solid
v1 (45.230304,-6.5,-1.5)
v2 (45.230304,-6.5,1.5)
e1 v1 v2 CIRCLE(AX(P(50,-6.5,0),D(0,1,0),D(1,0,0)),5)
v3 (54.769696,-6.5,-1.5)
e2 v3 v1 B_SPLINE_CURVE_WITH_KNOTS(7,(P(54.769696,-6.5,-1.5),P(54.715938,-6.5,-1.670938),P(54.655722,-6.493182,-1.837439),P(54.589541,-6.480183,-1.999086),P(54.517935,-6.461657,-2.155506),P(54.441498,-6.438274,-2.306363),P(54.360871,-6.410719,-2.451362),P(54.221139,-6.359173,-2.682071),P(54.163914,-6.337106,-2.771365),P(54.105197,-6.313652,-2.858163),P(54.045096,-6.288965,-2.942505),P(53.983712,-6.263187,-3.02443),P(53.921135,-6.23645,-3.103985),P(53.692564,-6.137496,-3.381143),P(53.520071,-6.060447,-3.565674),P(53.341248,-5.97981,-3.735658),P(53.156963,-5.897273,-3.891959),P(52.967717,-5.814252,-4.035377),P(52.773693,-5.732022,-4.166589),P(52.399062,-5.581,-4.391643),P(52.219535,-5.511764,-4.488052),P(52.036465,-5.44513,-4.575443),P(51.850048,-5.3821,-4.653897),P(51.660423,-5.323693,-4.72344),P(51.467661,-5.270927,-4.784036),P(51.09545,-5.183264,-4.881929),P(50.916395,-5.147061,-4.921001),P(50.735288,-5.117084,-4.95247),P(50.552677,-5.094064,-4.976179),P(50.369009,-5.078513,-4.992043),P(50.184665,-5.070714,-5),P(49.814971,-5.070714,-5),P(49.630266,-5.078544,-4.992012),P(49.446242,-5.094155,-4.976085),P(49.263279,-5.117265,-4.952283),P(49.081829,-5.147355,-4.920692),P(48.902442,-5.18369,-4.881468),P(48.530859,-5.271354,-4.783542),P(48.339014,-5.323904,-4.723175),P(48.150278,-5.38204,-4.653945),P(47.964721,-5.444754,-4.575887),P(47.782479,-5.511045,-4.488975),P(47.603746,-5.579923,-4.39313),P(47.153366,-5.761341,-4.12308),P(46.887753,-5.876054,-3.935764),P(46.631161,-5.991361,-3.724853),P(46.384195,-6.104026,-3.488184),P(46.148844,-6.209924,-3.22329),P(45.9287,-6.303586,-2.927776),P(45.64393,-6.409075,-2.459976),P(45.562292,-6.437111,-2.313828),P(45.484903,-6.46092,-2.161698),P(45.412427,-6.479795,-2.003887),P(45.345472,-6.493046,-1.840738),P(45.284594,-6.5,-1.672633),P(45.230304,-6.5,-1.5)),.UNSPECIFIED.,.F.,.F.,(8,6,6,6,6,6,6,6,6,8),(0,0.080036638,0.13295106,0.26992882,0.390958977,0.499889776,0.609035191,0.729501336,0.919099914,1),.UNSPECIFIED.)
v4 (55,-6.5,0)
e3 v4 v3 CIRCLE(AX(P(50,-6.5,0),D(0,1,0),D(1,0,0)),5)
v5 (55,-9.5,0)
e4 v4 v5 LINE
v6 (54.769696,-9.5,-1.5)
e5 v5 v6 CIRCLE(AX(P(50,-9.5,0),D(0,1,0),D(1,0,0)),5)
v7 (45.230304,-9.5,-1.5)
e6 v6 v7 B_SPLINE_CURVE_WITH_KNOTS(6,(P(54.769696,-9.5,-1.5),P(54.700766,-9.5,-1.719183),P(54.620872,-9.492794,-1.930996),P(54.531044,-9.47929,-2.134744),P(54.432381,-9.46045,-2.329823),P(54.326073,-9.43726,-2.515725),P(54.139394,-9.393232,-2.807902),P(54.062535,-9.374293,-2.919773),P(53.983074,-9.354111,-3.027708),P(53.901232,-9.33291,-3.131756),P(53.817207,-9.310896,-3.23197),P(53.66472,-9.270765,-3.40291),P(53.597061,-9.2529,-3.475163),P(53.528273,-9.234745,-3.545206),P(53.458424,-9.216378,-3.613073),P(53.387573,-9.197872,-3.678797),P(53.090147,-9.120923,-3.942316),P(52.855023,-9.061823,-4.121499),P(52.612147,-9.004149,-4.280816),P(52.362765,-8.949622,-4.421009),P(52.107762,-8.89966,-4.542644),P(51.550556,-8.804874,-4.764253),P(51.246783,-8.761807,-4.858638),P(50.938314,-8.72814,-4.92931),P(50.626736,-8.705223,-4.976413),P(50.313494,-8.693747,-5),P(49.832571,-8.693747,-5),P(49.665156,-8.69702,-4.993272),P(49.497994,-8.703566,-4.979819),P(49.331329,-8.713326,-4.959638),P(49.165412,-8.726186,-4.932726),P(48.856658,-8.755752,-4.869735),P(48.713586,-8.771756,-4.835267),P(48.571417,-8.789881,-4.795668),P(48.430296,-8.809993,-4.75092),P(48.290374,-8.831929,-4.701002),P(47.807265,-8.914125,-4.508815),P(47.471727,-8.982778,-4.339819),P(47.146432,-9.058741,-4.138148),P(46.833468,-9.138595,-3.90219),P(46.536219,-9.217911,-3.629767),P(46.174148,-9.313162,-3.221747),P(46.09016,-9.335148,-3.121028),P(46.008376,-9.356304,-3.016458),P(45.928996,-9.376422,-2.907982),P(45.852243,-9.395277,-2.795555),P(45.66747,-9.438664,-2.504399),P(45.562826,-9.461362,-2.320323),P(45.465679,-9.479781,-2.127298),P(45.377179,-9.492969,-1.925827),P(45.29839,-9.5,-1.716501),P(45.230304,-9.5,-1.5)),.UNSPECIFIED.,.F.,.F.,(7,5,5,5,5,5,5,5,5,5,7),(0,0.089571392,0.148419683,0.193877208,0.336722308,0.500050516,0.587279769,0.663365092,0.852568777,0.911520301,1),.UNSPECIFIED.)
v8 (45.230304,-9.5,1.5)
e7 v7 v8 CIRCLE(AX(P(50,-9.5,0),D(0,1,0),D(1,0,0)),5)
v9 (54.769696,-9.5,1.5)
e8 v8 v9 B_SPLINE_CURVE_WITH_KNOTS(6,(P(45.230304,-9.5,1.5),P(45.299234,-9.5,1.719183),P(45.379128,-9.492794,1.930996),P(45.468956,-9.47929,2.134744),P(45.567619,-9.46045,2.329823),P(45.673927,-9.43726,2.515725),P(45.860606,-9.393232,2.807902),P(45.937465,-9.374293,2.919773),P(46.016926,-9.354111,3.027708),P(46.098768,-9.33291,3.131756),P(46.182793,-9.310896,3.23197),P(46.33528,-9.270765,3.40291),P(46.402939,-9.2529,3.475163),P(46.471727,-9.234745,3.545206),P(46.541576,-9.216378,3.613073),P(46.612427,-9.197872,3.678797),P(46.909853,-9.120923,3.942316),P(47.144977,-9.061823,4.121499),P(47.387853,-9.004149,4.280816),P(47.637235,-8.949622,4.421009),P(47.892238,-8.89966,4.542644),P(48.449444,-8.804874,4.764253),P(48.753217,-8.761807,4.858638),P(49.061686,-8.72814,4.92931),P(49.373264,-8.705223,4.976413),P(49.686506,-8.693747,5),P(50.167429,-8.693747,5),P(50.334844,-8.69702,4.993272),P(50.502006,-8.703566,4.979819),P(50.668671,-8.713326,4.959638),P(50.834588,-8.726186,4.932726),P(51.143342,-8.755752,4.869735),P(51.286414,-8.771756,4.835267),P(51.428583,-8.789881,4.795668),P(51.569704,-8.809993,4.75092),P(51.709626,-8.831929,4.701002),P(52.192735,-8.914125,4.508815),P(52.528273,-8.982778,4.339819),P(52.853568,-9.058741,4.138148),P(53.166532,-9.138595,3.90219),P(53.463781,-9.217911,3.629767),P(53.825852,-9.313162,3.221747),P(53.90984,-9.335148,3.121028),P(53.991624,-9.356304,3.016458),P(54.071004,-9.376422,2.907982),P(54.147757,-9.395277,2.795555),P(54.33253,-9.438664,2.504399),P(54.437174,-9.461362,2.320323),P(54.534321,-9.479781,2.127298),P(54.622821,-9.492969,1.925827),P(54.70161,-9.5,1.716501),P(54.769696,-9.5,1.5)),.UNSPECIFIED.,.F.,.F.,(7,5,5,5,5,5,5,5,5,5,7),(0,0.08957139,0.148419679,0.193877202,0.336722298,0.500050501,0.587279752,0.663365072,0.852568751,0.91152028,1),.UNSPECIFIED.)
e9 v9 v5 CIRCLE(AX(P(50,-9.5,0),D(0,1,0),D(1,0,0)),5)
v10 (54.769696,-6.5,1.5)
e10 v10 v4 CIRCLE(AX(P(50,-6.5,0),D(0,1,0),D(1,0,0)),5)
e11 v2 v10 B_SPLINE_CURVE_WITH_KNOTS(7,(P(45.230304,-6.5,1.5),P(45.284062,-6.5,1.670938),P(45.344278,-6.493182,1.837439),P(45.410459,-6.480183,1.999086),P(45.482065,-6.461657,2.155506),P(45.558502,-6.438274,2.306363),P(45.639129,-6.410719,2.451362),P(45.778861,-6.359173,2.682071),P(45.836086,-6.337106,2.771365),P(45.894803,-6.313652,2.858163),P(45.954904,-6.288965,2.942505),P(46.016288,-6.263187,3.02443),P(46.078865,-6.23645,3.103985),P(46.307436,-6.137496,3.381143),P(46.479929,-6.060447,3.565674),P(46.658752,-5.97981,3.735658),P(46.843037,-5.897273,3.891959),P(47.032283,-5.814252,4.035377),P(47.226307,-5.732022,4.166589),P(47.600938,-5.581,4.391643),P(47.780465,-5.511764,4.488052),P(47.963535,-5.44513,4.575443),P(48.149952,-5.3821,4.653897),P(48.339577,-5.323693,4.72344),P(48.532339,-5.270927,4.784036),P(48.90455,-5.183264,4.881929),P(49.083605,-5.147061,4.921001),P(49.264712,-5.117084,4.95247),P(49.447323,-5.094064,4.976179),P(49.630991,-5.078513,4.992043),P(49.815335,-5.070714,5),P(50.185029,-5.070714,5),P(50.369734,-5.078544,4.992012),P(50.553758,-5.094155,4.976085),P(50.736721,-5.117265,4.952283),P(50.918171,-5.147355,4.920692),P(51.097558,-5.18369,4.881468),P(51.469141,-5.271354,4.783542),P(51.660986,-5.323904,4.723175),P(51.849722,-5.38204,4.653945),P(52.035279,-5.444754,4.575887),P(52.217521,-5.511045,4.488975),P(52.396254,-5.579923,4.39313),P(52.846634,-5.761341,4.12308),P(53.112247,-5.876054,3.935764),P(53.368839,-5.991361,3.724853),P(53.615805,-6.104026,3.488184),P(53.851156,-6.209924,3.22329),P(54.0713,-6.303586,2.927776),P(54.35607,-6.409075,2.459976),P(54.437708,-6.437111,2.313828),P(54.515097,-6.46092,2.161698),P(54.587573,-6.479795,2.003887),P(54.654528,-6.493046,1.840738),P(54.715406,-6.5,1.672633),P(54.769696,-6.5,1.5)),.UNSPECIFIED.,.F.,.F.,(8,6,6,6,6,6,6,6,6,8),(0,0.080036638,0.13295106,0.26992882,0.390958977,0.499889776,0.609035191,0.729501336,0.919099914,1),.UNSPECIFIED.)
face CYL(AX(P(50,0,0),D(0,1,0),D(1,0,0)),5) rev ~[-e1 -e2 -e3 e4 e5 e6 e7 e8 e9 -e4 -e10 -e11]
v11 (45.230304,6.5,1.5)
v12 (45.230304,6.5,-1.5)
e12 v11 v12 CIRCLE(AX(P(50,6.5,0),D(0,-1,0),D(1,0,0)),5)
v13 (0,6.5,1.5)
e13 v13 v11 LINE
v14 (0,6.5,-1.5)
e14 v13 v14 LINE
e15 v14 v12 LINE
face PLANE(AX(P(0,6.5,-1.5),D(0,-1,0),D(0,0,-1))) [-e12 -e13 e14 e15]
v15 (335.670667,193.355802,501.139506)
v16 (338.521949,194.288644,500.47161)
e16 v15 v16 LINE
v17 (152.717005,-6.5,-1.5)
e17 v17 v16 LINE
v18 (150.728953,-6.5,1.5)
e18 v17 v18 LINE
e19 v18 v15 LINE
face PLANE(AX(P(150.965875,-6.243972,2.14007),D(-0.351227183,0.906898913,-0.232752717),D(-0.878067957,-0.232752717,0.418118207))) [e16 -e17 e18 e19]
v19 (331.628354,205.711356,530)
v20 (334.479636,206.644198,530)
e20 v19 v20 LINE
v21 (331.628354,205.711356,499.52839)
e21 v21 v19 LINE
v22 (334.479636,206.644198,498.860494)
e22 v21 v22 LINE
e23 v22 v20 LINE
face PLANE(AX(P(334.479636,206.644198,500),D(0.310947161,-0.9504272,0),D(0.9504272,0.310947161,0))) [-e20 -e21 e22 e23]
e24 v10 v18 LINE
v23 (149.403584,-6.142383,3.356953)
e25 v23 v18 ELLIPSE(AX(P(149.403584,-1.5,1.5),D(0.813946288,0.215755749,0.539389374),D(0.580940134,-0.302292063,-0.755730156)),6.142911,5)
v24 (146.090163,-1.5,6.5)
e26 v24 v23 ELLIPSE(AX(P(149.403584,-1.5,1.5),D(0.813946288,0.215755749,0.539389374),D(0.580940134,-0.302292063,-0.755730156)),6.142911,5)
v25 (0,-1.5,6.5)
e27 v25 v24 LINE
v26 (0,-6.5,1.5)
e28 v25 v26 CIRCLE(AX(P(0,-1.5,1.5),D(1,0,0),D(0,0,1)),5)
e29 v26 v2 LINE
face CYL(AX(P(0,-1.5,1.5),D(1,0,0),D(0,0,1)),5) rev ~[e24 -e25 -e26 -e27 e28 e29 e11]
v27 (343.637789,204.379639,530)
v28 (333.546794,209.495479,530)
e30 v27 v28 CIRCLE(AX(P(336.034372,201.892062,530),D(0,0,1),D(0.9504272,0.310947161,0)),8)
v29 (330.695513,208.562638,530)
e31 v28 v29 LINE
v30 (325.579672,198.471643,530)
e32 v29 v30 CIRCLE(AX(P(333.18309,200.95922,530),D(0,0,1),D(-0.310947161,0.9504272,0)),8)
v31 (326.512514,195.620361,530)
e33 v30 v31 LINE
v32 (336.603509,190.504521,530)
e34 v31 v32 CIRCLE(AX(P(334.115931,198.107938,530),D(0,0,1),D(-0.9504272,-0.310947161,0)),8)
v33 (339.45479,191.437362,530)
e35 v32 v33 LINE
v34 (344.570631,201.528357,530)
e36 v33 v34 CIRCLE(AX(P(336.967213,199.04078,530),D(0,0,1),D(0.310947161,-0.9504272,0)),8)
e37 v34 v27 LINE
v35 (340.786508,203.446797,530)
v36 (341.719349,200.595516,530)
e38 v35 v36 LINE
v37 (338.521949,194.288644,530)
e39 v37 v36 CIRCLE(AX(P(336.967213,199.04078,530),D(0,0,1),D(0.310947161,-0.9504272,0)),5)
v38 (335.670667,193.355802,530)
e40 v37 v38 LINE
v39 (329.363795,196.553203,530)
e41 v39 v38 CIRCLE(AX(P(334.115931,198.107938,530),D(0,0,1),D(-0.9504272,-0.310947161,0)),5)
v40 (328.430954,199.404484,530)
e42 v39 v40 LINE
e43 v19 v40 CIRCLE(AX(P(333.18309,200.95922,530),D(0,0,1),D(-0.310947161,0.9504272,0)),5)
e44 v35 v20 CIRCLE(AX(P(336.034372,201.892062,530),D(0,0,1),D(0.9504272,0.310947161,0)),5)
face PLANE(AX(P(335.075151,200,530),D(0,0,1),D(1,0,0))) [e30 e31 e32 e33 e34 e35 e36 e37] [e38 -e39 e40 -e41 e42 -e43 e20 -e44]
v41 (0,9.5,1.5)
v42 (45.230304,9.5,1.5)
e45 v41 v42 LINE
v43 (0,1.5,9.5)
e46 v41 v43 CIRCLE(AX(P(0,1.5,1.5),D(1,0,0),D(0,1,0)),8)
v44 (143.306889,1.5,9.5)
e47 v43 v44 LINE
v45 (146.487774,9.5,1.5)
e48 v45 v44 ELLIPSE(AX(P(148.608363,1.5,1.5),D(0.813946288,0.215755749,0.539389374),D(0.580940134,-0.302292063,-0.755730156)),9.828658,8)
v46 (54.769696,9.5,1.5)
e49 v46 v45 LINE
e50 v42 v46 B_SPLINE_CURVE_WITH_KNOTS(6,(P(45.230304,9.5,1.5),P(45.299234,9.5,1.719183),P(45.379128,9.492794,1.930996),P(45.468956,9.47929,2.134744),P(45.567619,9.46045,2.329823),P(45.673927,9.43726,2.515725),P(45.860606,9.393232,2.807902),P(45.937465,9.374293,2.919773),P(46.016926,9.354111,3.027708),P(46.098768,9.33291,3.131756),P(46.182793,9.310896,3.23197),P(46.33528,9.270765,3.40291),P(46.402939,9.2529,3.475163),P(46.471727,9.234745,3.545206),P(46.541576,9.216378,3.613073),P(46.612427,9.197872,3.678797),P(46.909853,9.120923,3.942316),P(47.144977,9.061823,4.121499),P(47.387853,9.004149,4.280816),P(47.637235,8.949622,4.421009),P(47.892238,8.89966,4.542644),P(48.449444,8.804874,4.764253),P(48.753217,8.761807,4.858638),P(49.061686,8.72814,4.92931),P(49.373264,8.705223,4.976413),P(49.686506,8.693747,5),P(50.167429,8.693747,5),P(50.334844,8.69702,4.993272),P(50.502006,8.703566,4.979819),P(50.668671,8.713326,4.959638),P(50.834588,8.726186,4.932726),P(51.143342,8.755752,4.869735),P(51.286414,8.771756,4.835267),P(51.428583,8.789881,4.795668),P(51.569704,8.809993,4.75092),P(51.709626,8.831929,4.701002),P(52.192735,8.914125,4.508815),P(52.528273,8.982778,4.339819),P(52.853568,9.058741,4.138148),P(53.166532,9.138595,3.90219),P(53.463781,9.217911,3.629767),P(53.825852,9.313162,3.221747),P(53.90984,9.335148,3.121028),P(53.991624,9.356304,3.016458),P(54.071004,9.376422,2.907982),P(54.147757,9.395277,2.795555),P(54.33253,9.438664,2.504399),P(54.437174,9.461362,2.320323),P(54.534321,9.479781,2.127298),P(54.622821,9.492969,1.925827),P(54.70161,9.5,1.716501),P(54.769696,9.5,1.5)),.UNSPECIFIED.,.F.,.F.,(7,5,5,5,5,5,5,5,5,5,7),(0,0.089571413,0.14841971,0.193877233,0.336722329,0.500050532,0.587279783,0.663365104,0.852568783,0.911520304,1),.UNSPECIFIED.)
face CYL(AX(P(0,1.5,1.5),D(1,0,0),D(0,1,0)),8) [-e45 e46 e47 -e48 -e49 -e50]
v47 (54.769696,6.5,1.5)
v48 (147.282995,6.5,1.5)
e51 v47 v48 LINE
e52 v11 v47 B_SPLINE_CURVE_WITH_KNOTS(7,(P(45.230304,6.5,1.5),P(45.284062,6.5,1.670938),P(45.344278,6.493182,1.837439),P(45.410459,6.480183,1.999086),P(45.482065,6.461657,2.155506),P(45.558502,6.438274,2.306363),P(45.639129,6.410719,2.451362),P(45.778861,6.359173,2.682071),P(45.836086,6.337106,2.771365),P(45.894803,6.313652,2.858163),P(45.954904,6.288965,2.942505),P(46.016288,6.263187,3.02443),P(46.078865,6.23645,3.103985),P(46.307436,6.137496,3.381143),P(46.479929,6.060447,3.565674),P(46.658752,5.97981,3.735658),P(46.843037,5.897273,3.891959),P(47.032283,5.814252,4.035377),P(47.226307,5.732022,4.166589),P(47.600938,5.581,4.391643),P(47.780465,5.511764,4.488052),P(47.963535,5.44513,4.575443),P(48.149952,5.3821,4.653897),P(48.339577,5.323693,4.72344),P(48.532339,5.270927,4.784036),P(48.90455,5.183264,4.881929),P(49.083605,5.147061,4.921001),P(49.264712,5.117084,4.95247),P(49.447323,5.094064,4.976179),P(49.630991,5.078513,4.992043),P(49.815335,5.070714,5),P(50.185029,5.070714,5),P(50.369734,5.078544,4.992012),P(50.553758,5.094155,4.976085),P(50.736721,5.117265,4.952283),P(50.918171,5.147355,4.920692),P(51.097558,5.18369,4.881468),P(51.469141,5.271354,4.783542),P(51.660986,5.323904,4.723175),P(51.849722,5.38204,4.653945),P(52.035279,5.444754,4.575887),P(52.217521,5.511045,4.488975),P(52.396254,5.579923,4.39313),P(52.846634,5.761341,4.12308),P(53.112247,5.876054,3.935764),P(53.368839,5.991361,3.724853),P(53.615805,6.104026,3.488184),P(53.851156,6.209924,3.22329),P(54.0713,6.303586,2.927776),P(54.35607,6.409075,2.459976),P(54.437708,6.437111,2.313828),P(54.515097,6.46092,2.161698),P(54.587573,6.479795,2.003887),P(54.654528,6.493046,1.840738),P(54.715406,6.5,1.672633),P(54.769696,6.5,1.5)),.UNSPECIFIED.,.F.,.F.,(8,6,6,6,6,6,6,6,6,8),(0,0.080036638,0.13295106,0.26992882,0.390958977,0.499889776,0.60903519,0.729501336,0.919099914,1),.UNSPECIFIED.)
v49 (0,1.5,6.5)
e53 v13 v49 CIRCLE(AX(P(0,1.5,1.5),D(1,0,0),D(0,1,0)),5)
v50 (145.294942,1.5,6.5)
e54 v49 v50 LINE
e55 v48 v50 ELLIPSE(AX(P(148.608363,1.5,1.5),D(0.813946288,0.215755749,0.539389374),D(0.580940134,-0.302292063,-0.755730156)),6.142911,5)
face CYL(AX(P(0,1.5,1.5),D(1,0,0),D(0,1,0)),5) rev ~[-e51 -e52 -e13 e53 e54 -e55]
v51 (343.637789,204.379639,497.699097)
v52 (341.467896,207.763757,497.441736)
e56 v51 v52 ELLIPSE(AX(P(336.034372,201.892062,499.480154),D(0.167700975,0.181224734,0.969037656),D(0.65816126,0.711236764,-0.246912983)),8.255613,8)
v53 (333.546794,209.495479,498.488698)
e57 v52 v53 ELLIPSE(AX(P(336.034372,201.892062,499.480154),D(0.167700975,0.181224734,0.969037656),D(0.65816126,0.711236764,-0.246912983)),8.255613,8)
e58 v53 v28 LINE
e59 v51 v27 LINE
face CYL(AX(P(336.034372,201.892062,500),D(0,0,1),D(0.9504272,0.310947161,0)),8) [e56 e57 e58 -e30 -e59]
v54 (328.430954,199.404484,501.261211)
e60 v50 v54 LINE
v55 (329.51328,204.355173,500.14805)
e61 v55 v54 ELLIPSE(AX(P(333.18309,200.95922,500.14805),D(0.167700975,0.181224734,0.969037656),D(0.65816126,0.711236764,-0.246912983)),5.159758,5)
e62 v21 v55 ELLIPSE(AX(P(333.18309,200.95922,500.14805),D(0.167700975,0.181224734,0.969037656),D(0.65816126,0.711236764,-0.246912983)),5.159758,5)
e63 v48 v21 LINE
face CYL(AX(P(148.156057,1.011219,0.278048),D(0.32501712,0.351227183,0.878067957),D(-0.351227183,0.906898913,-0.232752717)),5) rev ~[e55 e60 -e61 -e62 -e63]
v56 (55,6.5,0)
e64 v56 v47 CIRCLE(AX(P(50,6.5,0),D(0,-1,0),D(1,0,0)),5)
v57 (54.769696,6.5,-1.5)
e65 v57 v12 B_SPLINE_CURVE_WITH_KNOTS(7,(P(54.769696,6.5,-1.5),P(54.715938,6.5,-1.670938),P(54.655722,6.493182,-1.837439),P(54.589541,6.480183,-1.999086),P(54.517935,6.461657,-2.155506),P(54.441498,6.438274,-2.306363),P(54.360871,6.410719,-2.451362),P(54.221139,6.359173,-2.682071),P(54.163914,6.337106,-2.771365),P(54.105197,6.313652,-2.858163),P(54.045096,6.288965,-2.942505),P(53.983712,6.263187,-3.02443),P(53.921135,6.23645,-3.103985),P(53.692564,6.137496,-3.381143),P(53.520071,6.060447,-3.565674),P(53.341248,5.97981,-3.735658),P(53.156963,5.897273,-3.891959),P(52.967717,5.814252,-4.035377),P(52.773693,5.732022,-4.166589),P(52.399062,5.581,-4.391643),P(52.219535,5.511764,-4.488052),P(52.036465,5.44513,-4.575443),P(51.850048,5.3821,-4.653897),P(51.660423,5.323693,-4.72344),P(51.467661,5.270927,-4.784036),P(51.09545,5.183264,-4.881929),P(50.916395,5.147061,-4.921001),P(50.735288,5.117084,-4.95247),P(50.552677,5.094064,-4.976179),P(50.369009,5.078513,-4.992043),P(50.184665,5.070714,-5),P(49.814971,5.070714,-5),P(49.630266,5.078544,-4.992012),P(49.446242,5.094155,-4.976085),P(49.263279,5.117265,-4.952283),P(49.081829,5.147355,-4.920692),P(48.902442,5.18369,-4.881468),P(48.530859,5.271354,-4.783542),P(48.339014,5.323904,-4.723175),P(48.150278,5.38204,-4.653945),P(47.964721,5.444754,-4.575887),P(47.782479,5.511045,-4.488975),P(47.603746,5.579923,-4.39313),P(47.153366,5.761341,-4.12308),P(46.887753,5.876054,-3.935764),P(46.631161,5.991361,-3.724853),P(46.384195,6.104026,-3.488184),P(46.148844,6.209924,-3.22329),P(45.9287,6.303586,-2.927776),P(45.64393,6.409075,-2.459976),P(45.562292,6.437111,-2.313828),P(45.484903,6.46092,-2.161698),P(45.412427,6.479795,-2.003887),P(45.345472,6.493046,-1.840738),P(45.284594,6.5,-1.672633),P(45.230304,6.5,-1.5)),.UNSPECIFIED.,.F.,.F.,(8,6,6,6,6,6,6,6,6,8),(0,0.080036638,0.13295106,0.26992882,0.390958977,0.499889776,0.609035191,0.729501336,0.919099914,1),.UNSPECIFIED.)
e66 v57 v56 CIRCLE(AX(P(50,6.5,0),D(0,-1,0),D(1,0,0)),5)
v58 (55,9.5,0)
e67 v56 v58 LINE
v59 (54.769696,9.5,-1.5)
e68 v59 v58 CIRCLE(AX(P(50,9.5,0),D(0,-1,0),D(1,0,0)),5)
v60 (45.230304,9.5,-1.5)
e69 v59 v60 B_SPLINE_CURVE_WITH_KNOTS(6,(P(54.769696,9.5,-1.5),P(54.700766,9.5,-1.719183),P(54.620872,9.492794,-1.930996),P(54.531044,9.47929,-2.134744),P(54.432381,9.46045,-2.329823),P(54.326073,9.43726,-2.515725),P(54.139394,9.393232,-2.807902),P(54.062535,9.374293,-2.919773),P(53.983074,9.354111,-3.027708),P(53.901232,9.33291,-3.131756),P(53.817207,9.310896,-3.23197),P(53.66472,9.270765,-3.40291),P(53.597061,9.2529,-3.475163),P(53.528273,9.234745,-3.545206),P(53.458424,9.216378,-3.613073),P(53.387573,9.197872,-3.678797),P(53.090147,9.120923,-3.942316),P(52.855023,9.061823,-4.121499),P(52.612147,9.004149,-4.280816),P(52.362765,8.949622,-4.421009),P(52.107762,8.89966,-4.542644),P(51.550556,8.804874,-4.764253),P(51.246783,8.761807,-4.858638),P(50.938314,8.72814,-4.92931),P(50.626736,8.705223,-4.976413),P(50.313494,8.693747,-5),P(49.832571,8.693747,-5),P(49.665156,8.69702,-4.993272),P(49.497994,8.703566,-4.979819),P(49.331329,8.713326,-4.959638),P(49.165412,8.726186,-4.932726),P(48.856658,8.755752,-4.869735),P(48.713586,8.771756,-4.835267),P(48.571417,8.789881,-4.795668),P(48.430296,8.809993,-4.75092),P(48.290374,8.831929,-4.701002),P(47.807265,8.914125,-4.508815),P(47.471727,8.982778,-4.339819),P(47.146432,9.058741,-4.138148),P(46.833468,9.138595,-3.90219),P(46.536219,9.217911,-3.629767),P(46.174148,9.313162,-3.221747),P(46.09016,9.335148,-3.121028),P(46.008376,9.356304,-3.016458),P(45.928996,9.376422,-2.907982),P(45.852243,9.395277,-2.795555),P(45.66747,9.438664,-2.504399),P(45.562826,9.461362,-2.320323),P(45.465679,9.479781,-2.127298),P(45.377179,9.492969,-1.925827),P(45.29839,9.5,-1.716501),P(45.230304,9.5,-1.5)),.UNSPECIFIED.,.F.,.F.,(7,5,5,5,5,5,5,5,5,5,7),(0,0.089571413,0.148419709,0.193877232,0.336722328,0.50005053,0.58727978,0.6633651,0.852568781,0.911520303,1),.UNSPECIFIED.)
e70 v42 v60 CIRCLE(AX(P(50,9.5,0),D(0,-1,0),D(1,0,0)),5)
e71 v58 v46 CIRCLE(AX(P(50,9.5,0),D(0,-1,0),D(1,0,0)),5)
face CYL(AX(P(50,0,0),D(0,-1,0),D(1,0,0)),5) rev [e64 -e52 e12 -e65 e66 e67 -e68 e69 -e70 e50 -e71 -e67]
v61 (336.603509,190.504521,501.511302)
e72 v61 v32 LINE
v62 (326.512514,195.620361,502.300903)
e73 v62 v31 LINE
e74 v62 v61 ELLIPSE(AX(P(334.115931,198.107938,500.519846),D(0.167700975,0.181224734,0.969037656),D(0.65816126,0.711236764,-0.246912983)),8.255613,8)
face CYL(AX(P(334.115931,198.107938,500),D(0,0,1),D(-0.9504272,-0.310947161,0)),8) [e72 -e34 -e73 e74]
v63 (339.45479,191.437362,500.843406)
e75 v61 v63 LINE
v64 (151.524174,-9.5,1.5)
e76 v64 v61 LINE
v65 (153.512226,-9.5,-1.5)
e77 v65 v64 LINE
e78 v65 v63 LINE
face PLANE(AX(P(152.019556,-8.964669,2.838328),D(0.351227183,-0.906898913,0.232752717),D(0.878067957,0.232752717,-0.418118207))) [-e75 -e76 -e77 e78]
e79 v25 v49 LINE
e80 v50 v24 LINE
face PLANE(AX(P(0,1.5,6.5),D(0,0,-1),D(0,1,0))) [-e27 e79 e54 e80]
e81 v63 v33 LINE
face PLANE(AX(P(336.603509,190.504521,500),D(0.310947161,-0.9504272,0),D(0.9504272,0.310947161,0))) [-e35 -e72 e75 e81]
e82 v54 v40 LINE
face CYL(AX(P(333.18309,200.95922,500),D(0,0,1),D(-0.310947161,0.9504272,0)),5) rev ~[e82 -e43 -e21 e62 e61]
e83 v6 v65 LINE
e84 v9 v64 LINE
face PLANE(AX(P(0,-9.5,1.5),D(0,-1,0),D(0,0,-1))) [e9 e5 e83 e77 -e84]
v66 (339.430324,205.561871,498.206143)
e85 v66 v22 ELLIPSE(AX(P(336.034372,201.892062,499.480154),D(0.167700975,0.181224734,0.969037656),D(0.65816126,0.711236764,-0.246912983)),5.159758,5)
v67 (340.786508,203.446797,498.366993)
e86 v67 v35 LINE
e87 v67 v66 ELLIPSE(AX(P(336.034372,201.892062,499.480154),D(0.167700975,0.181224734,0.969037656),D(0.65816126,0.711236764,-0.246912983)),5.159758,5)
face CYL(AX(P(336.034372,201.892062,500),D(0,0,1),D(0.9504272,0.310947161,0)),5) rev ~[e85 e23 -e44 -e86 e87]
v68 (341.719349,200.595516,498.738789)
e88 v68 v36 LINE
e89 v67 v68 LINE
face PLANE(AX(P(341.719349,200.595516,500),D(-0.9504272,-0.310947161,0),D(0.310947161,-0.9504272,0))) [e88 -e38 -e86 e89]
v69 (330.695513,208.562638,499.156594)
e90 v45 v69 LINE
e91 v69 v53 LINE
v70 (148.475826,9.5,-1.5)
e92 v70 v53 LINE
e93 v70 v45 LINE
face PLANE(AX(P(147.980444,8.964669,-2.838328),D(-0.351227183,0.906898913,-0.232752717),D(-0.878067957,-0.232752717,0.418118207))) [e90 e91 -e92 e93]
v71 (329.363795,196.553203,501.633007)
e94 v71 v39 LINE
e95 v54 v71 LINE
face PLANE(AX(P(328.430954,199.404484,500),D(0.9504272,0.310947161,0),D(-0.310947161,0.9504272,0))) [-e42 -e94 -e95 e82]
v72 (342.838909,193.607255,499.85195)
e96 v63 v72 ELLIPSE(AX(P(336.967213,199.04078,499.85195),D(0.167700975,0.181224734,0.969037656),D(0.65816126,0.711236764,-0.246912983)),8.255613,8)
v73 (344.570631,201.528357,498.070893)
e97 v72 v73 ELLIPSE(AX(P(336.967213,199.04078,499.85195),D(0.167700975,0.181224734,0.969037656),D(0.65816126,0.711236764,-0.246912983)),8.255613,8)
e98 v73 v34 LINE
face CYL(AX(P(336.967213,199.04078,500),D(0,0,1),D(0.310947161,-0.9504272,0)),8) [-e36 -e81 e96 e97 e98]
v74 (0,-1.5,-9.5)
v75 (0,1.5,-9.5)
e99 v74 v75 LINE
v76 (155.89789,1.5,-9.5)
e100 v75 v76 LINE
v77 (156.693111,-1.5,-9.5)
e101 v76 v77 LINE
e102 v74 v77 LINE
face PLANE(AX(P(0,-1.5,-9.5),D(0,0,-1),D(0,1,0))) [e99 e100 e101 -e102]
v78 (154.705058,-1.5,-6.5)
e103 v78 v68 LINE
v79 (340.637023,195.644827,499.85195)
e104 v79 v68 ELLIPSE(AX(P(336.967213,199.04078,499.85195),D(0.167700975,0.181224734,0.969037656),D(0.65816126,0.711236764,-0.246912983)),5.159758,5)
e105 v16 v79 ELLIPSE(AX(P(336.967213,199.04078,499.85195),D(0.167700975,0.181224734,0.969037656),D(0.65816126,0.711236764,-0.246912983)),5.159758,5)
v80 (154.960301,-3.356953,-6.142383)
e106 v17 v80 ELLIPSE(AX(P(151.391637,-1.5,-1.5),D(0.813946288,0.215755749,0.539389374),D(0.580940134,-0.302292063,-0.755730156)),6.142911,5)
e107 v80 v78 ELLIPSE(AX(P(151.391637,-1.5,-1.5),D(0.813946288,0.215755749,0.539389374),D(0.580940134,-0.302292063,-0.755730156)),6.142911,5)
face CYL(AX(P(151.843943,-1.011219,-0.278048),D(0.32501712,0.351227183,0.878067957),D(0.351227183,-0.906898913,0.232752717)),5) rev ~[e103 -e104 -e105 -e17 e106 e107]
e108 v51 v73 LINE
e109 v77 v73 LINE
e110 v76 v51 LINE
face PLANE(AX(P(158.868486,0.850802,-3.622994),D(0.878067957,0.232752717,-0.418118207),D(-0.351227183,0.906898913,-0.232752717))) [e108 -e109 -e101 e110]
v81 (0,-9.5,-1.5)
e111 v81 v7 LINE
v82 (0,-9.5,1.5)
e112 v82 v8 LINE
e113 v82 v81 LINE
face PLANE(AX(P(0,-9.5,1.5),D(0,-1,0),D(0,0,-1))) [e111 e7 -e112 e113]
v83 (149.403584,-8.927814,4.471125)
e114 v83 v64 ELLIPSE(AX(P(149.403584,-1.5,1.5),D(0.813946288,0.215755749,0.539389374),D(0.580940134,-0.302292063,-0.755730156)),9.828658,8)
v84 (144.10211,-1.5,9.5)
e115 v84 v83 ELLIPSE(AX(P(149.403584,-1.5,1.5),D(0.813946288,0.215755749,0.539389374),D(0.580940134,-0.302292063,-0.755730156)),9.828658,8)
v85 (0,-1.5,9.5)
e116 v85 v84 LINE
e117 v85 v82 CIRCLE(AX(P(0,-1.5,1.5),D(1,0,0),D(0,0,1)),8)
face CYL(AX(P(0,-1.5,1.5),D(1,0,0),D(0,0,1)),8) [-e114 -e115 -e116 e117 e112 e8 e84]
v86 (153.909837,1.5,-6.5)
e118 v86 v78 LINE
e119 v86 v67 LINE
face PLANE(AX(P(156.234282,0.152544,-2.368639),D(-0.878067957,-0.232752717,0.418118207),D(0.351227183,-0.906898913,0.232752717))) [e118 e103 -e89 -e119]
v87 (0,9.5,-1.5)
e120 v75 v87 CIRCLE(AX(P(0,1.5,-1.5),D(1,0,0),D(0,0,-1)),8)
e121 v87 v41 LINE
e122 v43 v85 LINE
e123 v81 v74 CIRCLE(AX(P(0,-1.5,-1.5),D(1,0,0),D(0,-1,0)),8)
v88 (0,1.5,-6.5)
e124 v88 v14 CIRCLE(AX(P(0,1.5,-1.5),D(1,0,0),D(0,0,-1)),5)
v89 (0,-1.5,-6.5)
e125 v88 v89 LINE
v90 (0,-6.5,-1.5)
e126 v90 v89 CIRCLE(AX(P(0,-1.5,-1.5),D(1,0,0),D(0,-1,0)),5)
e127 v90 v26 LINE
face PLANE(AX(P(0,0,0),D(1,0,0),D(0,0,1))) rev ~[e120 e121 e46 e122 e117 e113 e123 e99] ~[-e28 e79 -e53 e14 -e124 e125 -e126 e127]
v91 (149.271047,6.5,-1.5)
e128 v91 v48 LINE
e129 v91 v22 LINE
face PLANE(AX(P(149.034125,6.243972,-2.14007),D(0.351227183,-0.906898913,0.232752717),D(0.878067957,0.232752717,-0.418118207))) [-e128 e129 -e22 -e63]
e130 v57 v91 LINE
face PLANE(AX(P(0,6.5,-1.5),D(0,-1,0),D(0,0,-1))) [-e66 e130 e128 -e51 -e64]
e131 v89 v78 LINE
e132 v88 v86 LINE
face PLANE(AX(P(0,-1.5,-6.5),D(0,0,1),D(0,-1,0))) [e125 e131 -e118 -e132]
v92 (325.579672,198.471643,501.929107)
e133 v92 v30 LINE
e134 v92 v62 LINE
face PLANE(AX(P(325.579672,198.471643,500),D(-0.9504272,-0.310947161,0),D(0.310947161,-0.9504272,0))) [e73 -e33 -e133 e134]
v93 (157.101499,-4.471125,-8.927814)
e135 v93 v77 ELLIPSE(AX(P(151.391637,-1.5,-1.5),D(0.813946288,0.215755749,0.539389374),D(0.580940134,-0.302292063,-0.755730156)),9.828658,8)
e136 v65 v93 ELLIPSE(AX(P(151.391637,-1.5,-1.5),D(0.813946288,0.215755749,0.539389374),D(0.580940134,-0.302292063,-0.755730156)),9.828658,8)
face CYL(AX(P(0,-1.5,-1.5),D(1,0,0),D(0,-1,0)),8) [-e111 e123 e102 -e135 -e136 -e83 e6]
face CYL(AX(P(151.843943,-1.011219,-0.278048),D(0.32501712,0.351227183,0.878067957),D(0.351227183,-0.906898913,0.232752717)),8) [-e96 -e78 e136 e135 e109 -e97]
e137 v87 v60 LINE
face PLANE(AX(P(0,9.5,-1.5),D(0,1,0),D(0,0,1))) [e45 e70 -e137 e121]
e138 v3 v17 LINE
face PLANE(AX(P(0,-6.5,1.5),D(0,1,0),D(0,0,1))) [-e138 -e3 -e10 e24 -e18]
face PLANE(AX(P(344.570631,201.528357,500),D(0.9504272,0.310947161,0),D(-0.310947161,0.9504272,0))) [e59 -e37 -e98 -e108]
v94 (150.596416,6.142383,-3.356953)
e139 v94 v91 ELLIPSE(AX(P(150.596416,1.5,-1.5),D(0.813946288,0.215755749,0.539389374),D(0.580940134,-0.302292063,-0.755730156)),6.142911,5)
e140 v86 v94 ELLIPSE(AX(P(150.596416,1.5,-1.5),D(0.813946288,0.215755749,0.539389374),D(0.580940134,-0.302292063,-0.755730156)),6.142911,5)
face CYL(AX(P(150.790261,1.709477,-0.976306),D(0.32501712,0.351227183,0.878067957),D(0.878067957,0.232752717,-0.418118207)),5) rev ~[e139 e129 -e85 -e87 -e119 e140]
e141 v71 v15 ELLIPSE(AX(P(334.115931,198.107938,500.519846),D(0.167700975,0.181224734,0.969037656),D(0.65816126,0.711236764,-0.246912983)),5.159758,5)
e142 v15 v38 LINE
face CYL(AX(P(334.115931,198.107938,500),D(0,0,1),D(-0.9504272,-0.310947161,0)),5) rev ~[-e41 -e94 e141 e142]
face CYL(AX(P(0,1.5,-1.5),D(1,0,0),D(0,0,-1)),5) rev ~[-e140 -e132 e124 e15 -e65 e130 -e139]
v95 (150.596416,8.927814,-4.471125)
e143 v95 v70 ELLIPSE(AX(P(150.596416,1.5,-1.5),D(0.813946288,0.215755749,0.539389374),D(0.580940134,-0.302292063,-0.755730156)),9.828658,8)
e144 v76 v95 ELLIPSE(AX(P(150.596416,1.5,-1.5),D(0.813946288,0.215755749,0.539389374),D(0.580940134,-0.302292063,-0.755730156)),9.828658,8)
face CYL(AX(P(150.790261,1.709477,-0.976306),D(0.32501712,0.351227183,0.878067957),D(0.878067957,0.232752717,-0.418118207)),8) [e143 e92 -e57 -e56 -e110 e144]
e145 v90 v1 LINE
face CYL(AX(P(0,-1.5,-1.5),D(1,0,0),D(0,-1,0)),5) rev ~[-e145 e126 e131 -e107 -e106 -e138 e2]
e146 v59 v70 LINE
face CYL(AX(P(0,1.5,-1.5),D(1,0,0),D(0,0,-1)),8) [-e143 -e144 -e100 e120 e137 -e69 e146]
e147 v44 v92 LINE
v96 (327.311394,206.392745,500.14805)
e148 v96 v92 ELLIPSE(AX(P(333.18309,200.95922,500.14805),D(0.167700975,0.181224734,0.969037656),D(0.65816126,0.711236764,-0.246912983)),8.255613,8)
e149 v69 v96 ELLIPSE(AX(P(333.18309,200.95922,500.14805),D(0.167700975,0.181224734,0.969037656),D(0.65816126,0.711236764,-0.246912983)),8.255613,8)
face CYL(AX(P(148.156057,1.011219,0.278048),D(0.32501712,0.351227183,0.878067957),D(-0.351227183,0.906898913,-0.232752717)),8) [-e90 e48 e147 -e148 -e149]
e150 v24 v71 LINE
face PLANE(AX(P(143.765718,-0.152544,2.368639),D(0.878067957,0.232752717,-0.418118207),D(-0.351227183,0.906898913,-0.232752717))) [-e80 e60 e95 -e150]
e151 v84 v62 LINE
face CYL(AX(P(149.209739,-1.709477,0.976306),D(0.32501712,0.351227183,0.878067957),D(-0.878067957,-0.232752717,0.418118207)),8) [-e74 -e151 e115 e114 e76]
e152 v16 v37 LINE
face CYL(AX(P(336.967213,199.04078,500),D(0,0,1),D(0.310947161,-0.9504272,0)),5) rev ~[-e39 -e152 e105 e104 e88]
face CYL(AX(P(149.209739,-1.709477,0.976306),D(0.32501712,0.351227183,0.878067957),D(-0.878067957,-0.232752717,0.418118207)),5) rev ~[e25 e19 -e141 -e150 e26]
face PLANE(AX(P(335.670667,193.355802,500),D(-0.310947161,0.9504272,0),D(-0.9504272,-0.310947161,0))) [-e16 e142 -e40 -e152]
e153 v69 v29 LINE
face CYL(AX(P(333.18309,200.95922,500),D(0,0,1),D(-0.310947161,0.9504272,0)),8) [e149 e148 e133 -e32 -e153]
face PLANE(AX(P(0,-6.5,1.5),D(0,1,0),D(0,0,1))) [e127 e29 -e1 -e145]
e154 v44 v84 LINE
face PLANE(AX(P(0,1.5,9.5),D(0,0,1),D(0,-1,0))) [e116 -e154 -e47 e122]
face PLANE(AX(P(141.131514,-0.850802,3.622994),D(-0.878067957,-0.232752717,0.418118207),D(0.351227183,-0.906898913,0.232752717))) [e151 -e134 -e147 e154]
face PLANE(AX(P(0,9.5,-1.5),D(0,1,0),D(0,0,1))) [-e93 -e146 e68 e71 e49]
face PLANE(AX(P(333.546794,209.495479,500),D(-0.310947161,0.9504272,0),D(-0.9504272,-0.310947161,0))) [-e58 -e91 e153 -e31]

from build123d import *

# Parameters (mm, degrees)
SKETCH21_R              = 5
CUT_EXTRUDE3_DEPTH      = 210.892061542
CUT_EXTRUDE3_DEPTH_BACK = 10.5


with BuildPart() as part:
    # Sweep-Thin3: sweep along a curve in space
    with BuildLine() as sweep_thin3_path:
        Line((0, 0, 0), (150, 0, 0))
        Line((150, 0, 0), (335.07515147, 200, 500))
        Line((335.07515147, 200, 500), (335.07515147, 200, 530))
    # Sketch2 → Sweep-Thin3 (sweep)
    with BuildSketch(Plane(origin=(0, 0, 0), x_dir=(0, 0, -1), z_dir=(1, 0, 0))):
        with BuildLine():
            Line((1.5, 9.5), (-1.5, 9.5))
            ThreePointArc((-1.5, 9.5), (-7.156854249, 7.156854249), (-9.5, 1.5))
            Line((-9.5, 1.5), (-9.5, -1.5))
            ThreePointArc((-9.5, -1.5), (-7.156854249, -7.156854249), (-1.5, -9.5))
            Line((-1.5, -9.5), (1.5, -9.5))
            ThreePointArc((1.5, -9.5), (7.156854249, -7.156854249), (9.5, -1.5))
            Line((9.5, -1.5), (9.5, 1.5))
            ThreePointArc((9.5, 1.5), (7.156854249, 7.156854249), (1.5, 9.5))
        make_face()
        with BuildLine():
            Line((1.5, 6.5), (-1.5, 6.5))
            ThreePointArc((-1.5, 6.5), (-5.035533906, 5.035533906), (-6.5, 1.5))
            Line((-6.5, 1.5), (-6.5, -1.5))
            ThreePointArc((-6.5, -1.5), (-5.035533906, -5.035533906), (-1.5, -6.5))
            Line((-1.5, -6.5), (1.5, -6.5))
            ThreePointArc((1.5, -6.5), (5.035533906, -5.035533906), (6.5, -1.5))
            Line((6.5, -1.5), (6.5, 1.5))
            ThreePointArc((6.5, 1.5), (5.035533906, 5.035533906), (1.5, 6.5))
        make_face(mode=Mode.SUBTRACT)
    sweep(path=sweep_thin3_path.line, transition=Transition.RIGHT)

    # Sketch21 → Cut-Extrude3 (cut, two sides)
    with BuildSketch(Plane(origin=(0, 0, 0), x_dir=(1, 0, 0), z_dir=(0, 1, 0))) as cut_extrude3_sk:
        with Locations((50, 0)):
            Circle(SKETCH21_R)
    extrude(amount=CUT_EXTRUDE3_DEPTH, mode=Mode.SUBTRACT)
    extrude(cut_extrude3_sk.sketch, amount=-CUT_EXTRUDE3_DEPTH_BACK, mode=Mode.SUBTRACT)


solid = part.part
